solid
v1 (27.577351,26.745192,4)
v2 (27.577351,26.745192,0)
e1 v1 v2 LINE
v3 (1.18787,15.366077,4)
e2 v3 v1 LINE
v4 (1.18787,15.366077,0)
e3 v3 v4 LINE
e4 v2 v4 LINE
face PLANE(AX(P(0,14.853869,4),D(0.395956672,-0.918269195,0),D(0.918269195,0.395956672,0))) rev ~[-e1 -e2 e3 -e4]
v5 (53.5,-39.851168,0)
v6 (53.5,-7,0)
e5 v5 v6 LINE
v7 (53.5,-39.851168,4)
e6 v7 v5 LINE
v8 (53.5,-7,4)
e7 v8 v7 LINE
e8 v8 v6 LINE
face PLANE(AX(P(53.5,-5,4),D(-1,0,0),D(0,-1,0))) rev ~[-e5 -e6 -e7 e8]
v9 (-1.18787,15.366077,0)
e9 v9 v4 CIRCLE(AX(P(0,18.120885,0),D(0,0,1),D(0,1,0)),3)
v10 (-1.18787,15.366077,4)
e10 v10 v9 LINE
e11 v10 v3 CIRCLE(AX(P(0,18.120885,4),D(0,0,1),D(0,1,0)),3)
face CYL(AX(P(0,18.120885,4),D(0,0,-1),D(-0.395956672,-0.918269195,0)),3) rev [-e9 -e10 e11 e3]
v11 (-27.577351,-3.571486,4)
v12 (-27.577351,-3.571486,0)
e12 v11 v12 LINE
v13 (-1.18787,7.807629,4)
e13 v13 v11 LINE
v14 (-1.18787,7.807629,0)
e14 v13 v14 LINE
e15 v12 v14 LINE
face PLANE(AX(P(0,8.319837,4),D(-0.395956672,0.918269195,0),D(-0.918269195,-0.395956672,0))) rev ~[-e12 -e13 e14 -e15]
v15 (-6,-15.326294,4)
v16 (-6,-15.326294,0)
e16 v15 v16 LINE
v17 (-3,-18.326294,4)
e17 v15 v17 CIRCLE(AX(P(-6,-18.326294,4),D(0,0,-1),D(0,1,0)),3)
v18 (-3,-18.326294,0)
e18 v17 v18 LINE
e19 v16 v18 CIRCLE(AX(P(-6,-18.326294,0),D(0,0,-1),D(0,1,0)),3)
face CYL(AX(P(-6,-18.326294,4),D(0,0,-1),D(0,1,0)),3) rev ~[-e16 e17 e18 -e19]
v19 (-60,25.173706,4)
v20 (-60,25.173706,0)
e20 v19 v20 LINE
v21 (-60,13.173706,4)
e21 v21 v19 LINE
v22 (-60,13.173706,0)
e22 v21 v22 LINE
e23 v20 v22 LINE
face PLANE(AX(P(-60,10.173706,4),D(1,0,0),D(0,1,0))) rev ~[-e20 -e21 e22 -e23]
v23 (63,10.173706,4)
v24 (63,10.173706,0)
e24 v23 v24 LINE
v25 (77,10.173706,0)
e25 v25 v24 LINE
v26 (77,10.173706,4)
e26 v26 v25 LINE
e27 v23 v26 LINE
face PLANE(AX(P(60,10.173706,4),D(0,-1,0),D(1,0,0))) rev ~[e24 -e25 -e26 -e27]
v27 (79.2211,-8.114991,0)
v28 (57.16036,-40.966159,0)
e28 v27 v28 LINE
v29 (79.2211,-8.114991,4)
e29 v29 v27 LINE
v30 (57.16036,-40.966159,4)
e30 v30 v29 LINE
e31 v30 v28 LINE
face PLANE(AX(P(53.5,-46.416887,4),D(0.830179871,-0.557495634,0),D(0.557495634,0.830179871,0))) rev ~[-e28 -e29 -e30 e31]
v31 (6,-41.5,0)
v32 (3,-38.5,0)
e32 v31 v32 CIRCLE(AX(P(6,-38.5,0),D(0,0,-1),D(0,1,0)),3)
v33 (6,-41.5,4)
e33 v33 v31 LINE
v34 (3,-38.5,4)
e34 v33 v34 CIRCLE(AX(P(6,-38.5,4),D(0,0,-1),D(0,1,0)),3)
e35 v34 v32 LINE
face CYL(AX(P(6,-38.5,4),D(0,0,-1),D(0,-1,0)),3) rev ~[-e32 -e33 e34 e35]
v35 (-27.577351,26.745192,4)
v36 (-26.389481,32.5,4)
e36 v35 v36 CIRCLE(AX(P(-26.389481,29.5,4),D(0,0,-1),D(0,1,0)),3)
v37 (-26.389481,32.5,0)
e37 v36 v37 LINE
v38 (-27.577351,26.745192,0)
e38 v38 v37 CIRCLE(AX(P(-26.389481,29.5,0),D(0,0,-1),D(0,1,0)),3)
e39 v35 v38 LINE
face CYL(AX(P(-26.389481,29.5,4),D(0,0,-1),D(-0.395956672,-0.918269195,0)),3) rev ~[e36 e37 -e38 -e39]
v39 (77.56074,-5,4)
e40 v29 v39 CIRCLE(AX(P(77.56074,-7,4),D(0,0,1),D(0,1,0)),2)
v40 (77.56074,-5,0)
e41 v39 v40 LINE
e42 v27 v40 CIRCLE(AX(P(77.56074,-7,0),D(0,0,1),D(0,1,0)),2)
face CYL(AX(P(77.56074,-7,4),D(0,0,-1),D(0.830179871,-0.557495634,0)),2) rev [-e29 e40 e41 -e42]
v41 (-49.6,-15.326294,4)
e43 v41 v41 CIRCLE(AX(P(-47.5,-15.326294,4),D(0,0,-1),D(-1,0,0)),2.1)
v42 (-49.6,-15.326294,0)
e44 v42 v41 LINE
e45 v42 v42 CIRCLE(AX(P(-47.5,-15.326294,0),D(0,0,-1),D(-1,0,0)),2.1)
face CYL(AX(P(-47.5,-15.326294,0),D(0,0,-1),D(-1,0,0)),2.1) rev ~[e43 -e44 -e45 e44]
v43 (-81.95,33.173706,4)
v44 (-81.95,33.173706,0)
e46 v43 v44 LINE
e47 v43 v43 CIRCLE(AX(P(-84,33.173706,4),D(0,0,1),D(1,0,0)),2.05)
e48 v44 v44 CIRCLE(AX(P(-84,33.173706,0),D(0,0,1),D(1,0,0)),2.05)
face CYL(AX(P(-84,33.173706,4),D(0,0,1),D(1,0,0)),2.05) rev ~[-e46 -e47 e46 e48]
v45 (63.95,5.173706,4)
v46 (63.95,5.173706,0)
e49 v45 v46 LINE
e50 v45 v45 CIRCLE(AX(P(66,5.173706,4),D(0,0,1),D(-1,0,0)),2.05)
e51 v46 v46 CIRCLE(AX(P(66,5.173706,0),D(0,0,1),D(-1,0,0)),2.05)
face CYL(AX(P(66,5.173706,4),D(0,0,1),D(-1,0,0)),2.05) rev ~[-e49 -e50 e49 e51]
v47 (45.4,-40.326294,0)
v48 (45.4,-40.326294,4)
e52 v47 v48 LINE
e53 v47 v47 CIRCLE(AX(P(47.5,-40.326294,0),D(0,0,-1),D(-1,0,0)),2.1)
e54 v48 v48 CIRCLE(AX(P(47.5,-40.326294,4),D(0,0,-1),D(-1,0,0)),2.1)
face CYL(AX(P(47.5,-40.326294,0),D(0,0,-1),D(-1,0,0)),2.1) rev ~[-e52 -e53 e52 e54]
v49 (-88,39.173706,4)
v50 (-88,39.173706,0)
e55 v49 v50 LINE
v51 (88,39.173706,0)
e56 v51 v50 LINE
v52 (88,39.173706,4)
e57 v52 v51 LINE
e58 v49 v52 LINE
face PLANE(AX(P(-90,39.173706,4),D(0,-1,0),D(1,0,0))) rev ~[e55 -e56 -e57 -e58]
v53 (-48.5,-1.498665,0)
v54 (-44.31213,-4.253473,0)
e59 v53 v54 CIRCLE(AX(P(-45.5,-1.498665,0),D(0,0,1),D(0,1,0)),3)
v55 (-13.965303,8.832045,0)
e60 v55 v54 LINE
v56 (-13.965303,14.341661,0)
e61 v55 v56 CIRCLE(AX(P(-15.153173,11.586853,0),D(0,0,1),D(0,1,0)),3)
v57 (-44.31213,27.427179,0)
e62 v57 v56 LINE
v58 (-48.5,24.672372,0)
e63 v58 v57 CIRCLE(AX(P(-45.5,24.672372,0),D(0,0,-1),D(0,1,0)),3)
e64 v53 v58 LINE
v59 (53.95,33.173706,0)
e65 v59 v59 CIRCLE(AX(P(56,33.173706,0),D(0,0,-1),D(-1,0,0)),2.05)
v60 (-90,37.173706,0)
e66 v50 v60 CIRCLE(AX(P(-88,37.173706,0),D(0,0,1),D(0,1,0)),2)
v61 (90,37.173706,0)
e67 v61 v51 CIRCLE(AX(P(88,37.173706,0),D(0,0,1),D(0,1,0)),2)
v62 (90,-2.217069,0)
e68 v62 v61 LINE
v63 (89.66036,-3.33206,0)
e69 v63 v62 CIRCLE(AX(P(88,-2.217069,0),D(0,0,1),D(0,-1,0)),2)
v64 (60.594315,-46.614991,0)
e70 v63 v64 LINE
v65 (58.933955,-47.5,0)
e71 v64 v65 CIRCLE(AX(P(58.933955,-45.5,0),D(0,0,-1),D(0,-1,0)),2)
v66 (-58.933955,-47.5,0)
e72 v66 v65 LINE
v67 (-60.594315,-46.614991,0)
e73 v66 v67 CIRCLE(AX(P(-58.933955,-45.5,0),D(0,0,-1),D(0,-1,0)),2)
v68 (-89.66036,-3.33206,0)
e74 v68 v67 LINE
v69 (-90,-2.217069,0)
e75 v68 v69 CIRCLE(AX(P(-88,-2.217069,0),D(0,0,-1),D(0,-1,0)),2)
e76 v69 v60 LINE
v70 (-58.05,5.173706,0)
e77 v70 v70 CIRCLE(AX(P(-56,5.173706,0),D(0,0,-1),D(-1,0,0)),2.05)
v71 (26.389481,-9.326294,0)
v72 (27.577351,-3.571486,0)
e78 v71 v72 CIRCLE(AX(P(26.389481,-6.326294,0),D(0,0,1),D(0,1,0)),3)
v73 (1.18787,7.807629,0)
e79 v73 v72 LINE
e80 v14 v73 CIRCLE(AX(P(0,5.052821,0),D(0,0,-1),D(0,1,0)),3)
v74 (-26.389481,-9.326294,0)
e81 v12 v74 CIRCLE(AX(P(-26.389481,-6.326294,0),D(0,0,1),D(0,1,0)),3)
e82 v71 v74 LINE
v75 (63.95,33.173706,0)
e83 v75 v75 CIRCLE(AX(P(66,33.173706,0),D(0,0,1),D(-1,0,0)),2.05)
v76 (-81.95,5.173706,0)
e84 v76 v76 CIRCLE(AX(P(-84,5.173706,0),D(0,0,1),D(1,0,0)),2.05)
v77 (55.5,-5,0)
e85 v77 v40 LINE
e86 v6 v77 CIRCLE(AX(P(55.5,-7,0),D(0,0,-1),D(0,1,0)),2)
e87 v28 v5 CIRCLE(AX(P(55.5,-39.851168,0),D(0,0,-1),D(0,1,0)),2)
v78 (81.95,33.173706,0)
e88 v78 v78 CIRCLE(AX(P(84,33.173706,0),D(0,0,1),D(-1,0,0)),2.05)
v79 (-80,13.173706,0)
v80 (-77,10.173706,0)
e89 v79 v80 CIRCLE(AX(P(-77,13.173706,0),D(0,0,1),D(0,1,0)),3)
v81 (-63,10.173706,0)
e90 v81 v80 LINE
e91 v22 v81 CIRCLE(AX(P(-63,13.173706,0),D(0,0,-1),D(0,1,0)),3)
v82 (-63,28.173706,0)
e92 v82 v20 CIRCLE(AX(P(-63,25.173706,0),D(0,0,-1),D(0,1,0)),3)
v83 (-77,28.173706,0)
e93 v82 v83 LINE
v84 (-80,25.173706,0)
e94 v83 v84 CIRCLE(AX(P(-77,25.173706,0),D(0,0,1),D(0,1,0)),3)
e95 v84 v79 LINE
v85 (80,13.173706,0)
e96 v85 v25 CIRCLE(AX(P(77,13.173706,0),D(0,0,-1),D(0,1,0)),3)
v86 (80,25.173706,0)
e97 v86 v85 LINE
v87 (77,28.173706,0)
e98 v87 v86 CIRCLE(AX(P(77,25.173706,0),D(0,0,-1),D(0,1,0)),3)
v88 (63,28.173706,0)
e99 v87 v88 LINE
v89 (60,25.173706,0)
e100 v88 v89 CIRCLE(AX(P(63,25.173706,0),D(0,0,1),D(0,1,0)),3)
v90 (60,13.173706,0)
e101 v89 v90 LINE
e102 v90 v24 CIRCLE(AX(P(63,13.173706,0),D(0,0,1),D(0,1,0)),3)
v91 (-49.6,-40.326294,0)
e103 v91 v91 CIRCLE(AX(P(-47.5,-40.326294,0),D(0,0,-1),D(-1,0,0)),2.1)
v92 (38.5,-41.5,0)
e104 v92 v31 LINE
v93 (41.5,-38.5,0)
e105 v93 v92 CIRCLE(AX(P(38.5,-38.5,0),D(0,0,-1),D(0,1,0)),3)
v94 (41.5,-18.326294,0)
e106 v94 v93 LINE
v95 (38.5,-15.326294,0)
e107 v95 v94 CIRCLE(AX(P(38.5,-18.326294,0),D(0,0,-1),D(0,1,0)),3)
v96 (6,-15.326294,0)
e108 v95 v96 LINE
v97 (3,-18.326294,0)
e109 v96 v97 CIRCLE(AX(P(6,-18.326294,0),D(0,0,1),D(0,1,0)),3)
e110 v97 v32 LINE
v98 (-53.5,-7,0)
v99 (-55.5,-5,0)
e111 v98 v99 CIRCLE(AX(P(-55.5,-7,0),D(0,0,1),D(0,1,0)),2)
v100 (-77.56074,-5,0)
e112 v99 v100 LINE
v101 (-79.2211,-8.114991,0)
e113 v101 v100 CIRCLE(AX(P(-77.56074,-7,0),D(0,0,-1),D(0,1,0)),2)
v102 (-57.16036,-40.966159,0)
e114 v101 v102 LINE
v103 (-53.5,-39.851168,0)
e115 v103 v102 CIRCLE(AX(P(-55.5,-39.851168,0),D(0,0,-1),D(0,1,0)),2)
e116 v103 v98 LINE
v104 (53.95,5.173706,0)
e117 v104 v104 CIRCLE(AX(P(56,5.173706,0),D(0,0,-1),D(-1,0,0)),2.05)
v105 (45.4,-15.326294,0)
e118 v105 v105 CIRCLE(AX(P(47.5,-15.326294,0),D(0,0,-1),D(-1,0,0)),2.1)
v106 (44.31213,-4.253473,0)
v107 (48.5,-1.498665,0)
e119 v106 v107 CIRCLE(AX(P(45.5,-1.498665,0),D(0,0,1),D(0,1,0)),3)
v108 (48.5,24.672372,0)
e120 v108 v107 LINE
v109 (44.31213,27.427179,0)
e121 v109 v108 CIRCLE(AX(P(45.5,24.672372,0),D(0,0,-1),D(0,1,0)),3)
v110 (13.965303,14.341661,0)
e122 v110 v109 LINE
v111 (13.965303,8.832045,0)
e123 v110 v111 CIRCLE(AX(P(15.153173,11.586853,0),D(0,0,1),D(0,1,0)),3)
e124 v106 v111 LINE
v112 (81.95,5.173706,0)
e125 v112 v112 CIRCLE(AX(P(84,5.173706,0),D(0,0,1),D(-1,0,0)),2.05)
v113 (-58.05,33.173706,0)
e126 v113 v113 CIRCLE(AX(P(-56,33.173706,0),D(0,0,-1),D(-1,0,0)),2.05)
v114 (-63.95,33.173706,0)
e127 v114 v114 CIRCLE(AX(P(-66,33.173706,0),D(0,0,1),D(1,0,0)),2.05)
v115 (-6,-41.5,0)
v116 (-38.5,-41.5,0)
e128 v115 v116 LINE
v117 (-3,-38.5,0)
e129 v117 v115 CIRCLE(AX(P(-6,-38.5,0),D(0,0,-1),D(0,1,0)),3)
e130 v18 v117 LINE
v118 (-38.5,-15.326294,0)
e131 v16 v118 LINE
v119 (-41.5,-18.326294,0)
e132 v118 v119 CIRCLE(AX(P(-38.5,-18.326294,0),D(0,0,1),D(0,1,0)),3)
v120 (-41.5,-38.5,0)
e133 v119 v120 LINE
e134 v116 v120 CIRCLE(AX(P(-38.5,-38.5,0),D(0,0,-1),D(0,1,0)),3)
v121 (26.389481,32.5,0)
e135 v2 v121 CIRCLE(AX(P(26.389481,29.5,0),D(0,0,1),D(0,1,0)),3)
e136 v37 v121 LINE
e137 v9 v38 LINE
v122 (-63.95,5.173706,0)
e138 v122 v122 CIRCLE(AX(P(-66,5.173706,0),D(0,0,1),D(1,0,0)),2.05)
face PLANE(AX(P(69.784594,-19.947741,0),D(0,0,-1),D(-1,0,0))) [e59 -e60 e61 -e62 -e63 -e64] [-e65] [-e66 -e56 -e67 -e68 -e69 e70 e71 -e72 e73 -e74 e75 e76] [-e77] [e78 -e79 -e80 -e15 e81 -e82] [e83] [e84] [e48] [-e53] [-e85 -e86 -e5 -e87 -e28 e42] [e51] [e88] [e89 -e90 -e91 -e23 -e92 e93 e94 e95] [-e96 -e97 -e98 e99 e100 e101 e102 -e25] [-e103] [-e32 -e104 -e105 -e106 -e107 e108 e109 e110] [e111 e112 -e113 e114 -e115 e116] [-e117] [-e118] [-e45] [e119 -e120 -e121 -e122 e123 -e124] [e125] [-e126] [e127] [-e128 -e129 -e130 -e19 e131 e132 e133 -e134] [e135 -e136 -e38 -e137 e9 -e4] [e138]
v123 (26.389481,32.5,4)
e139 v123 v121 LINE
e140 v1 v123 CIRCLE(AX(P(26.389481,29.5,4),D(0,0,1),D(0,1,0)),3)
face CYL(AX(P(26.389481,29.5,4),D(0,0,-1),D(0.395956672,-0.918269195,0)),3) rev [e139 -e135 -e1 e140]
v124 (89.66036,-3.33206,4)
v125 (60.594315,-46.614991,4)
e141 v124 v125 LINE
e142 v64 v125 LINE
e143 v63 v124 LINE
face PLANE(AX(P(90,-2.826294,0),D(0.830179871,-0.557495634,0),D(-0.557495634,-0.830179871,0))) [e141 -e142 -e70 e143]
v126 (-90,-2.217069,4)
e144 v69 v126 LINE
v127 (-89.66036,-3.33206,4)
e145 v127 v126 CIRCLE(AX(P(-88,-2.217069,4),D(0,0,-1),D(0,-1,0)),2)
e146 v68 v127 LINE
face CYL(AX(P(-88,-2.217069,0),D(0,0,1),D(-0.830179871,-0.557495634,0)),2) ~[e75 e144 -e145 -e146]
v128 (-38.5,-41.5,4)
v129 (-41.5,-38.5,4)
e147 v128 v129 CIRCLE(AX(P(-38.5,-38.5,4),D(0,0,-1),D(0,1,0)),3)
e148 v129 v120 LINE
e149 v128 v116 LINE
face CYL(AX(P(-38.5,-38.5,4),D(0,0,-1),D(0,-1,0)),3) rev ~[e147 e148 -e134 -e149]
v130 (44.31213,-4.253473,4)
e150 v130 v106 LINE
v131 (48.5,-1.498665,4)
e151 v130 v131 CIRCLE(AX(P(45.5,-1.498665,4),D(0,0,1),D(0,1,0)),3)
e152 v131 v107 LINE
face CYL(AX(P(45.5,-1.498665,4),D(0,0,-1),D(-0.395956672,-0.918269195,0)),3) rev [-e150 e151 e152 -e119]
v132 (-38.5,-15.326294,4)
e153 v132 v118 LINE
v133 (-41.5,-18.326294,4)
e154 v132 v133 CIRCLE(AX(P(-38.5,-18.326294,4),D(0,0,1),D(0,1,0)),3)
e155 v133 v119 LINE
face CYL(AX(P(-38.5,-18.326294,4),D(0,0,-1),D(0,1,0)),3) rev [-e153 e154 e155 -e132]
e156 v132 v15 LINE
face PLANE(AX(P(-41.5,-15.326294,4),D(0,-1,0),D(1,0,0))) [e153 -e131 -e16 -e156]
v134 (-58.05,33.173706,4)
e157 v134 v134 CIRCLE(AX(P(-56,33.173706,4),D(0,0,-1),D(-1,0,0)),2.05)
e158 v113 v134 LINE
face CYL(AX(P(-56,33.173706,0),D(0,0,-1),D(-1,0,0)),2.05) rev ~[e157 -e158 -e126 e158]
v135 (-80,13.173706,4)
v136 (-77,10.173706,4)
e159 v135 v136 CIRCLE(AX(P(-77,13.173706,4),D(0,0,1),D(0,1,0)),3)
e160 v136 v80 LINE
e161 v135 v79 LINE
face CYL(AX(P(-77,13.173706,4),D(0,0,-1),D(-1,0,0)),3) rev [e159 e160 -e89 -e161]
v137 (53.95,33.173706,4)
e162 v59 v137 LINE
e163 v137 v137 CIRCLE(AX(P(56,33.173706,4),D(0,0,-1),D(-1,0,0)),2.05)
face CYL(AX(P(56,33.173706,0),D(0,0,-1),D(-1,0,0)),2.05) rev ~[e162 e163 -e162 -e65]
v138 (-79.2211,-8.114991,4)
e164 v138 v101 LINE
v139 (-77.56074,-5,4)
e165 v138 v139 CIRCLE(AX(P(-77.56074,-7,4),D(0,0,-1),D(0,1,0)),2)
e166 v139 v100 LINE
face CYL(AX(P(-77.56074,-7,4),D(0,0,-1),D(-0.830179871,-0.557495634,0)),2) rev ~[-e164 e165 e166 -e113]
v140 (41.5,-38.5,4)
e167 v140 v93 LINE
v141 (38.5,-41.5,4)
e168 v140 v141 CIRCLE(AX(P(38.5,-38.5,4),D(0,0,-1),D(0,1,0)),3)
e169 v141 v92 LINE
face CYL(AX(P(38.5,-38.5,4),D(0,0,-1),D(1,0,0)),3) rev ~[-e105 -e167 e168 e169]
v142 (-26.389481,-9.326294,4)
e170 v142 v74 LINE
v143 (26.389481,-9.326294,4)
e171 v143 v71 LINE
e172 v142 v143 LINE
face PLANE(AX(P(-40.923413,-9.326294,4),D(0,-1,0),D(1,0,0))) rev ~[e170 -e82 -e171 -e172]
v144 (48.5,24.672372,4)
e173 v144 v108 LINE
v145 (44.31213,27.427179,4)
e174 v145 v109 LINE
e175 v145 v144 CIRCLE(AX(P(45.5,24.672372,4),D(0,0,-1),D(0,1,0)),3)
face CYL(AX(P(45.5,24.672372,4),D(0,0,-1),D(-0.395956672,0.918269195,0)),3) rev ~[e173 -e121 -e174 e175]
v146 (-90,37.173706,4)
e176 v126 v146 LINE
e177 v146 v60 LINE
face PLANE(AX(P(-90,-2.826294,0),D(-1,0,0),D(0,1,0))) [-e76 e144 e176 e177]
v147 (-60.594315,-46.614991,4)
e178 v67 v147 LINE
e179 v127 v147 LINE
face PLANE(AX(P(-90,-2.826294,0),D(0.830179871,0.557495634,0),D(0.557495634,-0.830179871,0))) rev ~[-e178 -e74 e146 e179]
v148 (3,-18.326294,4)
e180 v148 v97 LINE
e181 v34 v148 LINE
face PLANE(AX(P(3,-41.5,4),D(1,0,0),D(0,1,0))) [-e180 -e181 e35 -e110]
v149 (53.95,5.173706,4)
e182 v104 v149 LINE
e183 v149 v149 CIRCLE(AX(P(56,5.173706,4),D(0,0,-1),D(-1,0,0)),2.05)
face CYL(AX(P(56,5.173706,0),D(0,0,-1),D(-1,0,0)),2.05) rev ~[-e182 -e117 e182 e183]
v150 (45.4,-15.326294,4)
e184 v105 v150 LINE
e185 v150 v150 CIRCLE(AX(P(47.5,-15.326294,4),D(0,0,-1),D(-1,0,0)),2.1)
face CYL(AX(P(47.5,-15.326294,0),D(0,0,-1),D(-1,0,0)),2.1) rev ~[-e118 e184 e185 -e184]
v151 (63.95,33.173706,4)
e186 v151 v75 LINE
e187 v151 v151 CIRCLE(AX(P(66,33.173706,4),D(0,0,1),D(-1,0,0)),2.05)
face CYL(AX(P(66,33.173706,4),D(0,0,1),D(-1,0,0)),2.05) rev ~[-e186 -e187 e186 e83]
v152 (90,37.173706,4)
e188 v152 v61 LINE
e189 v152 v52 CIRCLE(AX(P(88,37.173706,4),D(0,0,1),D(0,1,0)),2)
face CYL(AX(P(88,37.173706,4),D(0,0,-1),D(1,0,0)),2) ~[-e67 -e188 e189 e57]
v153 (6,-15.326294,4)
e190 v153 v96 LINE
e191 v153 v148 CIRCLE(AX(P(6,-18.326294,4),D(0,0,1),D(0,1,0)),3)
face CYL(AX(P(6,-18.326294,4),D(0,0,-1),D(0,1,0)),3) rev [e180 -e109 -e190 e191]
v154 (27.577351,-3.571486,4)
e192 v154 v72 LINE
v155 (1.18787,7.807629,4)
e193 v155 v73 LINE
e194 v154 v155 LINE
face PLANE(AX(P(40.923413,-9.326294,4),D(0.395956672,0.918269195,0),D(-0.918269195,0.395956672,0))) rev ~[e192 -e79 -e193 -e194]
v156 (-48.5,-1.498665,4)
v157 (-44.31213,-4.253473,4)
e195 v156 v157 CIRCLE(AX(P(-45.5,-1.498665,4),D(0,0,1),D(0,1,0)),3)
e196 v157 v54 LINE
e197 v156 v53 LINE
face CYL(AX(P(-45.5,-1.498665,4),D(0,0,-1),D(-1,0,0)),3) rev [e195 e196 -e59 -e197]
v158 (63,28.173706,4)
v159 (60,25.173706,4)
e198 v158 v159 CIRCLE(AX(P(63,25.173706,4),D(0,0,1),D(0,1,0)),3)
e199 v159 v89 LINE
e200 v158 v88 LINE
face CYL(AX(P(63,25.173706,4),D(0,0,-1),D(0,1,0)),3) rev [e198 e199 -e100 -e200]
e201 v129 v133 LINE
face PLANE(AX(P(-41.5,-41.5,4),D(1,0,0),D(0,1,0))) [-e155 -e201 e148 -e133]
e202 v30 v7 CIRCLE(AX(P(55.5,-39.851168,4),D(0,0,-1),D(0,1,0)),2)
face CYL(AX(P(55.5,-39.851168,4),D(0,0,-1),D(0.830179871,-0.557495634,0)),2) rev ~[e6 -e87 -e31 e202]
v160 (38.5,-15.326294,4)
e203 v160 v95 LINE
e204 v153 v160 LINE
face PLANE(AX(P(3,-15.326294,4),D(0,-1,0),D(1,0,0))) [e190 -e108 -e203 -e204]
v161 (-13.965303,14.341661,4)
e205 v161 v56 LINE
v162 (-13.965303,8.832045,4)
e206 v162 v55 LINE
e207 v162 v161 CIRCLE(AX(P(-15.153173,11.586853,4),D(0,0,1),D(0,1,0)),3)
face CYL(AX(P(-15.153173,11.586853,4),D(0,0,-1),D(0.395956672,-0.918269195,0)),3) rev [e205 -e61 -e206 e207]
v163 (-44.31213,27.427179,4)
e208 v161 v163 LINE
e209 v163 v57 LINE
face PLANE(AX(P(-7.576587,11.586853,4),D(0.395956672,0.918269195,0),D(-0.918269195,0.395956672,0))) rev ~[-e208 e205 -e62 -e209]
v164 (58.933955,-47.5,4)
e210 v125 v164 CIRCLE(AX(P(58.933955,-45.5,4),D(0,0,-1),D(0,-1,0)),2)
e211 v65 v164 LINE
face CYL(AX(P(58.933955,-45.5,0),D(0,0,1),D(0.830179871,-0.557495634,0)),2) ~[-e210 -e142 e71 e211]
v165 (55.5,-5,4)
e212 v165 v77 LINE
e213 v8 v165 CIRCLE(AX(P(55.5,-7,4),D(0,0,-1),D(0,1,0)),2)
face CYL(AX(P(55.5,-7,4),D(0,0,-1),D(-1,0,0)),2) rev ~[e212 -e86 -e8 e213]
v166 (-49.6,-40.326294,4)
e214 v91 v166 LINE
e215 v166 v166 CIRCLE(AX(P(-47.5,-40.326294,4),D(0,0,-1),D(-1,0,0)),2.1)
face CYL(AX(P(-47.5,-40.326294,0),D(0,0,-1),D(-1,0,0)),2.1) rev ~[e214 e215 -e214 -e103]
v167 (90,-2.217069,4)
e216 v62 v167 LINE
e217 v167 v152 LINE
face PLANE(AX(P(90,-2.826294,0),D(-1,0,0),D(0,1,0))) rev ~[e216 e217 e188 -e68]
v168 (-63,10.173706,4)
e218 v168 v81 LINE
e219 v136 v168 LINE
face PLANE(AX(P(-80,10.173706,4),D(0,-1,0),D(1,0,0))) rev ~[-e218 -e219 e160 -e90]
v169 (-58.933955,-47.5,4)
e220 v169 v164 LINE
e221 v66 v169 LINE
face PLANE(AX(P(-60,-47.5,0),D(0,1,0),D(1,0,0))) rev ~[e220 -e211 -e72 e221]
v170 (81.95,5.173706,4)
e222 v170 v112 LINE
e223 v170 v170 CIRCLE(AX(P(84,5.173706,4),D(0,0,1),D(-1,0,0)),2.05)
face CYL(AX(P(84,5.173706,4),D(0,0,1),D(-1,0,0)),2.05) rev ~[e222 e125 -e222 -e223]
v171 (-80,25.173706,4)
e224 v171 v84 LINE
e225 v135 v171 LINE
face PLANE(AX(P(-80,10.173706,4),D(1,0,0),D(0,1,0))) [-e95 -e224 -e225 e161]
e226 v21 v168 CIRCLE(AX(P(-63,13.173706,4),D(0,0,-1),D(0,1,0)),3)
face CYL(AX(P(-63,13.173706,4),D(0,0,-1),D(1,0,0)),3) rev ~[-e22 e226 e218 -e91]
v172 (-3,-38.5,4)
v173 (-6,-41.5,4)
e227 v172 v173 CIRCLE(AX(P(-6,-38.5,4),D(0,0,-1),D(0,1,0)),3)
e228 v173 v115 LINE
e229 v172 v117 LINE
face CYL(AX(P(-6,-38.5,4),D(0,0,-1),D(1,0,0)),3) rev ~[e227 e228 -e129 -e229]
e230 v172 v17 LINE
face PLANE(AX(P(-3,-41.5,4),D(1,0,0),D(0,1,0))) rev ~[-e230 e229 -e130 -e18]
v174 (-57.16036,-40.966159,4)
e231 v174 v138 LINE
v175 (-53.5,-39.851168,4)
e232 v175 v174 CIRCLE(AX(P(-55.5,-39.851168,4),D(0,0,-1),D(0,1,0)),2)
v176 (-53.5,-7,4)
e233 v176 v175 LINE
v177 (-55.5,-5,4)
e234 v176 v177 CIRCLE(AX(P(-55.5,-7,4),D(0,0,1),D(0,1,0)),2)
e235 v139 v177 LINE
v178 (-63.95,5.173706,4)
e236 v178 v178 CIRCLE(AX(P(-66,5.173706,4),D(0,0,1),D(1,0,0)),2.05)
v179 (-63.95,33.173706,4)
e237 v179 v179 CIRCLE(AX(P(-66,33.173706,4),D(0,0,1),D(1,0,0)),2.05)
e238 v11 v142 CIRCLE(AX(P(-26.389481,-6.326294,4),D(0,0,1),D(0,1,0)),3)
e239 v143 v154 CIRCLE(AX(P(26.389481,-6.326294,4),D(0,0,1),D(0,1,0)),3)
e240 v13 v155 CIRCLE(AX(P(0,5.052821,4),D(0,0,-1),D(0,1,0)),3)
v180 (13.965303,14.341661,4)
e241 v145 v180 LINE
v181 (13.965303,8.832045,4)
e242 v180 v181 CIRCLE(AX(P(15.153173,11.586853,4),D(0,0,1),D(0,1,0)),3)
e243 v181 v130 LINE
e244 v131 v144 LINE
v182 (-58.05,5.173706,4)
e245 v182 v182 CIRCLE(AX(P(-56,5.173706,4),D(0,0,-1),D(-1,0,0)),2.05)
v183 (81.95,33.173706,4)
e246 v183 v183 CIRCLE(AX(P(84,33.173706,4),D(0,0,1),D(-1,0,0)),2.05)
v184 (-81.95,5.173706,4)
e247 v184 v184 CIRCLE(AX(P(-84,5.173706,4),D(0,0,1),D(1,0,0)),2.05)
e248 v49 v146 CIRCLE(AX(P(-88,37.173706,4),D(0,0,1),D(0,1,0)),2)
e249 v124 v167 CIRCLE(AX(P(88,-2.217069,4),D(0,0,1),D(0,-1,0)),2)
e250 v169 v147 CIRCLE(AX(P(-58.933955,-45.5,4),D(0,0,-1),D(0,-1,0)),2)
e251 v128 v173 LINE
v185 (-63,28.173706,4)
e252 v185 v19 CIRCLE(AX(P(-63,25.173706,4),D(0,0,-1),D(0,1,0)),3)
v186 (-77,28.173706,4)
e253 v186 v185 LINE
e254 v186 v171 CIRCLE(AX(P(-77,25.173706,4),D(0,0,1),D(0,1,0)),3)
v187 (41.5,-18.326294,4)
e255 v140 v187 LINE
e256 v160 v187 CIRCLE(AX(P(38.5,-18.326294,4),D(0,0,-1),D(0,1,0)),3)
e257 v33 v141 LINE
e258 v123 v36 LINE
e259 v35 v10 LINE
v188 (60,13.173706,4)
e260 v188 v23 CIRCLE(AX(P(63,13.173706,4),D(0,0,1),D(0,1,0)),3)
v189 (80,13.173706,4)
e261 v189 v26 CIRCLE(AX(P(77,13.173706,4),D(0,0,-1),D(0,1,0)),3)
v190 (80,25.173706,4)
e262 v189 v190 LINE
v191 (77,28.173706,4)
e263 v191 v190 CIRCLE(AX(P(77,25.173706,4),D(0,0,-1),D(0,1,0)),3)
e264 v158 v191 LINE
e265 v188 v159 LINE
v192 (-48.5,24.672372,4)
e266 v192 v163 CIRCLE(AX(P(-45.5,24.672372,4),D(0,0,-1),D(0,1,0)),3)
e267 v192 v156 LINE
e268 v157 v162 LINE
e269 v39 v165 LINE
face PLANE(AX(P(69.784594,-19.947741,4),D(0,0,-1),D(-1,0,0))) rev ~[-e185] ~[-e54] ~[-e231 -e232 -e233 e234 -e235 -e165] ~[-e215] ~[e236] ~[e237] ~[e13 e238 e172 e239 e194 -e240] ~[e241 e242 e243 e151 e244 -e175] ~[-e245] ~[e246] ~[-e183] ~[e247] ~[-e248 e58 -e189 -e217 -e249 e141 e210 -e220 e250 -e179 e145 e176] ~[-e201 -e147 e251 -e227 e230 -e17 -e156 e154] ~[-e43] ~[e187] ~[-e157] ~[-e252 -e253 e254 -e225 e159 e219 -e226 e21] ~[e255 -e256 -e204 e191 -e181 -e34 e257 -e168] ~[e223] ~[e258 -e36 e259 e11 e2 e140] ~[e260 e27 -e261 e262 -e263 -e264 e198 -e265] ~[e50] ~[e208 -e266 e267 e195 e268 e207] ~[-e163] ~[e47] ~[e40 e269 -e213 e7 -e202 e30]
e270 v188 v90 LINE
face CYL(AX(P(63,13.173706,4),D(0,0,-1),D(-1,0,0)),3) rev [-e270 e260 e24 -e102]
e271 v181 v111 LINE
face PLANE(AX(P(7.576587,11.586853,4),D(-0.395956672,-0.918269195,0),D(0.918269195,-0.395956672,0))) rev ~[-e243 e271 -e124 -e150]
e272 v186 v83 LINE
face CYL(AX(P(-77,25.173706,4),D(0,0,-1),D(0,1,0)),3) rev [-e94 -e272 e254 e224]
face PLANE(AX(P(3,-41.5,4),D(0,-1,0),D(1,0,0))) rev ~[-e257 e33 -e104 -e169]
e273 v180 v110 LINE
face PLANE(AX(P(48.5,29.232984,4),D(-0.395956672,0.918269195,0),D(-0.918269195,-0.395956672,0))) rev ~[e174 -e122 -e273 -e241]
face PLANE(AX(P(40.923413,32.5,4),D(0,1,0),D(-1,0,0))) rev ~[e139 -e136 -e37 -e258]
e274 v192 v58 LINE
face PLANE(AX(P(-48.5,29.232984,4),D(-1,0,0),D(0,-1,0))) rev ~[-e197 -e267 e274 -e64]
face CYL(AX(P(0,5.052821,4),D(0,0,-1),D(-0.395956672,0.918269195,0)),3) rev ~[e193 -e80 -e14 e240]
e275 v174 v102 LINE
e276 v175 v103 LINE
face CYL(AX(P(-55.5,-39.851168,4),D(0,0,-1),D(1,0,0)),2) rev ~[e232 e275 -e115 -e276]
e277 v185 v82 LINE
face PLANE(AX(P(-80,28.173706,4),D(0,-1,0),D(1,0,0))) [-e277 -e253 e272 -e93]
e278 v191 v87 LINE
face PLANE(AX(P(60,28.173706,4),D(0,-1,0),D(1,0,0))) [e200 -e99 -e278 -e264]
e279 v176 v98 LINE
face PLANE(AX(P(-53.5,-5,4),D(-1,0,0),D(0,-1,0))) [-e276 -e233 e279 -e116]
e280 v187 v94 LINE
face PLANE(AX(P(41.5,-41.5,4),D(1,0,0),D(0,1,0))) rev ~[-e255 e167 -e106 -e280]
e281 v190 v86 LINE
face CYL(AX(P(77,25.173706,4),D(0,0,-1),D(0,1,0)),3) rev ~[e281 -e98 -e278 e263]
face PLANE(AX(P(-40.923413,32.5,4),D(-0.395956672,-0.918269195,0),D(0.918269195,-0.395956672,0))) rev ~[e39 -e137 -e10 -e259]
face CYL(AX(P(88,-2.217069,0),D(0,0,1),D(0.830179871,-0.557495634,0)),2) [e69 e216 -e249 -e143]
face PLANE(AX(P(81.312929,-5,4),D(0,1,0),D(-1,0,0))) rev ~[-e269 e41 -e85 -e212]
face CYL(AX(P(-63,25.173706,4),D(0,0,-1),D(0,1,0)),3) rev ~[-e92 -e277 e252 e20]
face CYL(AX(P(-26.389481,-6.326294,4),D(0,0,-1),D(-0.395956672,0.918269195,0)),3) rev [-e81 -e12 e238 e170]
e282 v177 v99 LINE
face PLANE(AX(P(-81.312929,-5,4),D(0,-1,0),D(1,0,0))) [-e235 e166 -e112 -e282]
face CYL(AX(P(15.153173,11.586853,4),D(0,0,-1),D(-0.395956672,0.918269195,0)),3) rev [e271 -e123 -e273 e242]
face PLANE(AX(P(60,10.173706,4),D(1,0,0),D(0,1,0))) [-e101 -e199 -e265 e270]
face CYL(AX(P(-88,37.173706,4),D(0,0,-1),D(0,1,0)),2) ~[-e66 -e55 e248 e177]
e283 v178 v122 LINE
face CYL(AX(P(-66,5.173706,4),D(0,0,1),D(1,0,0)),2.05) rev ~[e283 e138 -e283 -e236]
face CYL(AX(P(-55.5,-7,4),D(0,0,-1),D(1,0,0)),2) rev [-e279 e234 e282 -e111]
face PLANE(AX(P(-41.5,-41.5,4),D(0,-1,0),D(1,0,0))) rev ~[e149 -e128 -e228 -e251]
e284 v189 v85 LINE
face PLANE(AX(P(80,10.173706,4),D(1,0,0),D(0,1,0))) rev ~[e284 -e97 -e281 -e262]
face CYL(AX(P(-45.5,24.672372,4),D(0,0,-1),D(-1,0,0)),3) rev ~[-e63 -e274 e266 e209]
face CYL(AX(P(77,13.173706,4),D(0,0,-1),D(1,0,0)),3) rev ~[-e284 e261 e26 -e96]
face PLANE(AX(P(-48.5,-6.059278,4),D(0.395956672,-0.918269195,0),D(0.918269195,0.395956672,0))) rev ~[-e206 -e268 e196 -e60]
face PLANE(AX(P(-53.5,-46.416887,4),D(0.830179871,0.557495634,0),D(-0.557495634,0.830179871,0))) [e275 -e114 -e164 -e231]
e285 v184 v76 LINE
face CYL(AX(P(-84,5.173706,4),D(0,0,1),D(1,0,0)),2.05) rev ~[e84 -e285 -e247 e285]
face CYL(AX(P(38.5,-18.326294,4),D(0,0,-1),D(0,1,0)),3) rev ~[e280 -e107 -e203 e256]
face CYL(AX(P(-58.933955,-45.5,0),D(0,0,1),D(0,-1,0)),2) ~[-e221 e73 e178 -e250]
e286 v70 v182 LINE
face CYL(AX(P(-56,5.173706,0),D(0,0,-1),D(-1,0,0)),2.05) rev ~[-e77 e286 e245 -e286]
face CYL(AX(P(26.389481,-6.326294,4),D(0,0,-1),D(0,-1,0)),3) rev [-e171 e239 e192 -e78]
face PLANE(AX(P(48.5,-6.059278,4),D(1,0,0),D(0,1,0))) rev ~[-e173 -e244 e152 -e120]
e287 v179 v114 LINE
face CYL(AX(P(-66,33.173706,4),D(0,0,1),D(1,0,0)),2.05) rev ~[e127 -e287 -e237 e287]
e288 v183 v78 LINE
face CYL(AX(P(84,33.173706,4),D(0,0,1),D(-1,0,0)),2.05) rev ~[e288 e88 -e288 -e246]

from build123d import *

# Parameters (mm, degrees)
SKETCH_1_W          = 120
SKETCH_1_H          = 95
EXTRUDE_1_DEPTH     = 4
SKETCH_2_R          = 2.1
CUT_EXTRUDE_1_DEPTH = 10
SKETCH_3_R          = 2.05
CUT_EXTRUDE_2_DEPTH = 10
SKETCH_4_W          = 180
SKETCH_4_H          = 50.32629385
SKETCH_4_R          = 2.05
EXTRUDE_2_DEPTH     = 4
EXTRUDE_3_DEPTH     = 4
CUT_EXTRUDE_3_DEPTH = 10
FILLET_1_R          = 2
SKETCH_7_R          = 2.05
CUT_EXTRUDE_4_DEPTH = 10
FILLET_2_R          = 2
SKETCH_8_W          = 20
SKETCH_8_H          = 18
CUT_EXTRUDE_5_DEPTH = 10
SKETCH_9_W          = 38.5
SKETCH_9_H          = 26.173706147
CUT_EXTRUDE_6_DEPTH = 10
FILLET_3_R          = 3
SKETCH_10_R         = 2.05
CUT_EXTRUDE_7_DEPTH = 10
SKETCH_11_W         = 180
SKETCH_11_H         = 15
CUT_EXTRUDE_8_DEPTH = 10
FILLET_4_R          = 2


with BuildPart() as part:
    # 草图1 → 凸台-拉伸1 (new body)
    with BuildSketch(Plane.XY):
        Rectangle(SKETCH_1_W, SKETCH_1_H)
    extrude(amount=EXTRUDE_1_DEPTH)

    # 草图2 → 切除-拉伸1 (cut)
    with BuildSketch(Plane(origin=(0, 0, 0), x_dir=(-1, 0, 0), z_dir=(0, 0, -1))):
        with Locations((47.5, -40.326293853)):
            Circle(SKETCH_2_R)
        with Locations((47.5, -15.326293853)):
            Circle(SKETCH_2_R)
        with Locations((-47.5, -15.326293853)):
            Circle(SKETCH_2_R)
        with Locations((-47.5, -40.326293853)):
            Circle(SKETCH_2_R)
    extrude(amount=-CUT_EXTRUDE_1_DEPTH, mode=Mode.SUBTRACT)

    # 草图3 → 切除-拉伸2 (cut)
    with BuildSketch(Plane(origin=(0, 0, 0), x_dir=(-1, 0, 0), z_dir=(0, 0, -1))):
        with Locations((56, 33.17370615)):
            Circle(SKETCH_3_R)
        with Locations((-56, 33.17370615)):
            Circle(SKETCH_3_R)
        with Locations((-56, 5.17370615)):
            Circle(SKETCH_3_R)
        with Locations((56, 5.17370615)):
            Circle(SKETCH_3_R)
    extrude(amount=-CUT_EXTRUDE_2_DEPTH, mode=Mode.SUBTRACT)

    # 草图4 → 凸台-拉伸2 (add)
    with BuildSketch(Plane(origin=(0, 0, 0), x_dir=(-1, 0, 0), z_dir=(0, 0, -1))):
        with Locations((0, 22.336853075)):
            Rectangle(SKETCH_4_W, SKETCH_4_H)
        with Locations((56, 5.17370615)):
            Circle(SKETCH_4_R, mode=Mode.SUBTRACT)
        with Locations((56, 33.17370615)):
            Circle(SKETCH_4_R, mode=Mode.SUBTRACT)
        with Locations((-56, 5.17370615)):
            Circle(SKETCH_4_R, mode=Mode.SUBTRACT)
        with Locations((-56, 33.17370615)):
            Circle(SKETCH_4_R, mode=Mode.SUBTRACT)
    extrude(amount=-EXTRUDE_2_DEPTH)

    # 草图5 → 凸台-拉伸3 (add)
    with BuildSketch(Plane(origin=(0, 0, 0), x_dir=(-1, 0, 0), z_dir=(0, 0, -1))):
        Polygon((-90, -2.82629385), (-60, -47.5), (-60, -2.82629385), align=None)
        Polygon((60, -47.5), (60, -2.82629385), (90, -2.82629385), align=None)
    extrude(amount=-EXTRUDE_3_DEPTH)

    # 草图6 → 切除-拉伸3 (cut)
    with BuildSketch(Plane.XY.offset(4)):
        Polygon((-81.312928752, -5), (-53.5, -5), (-53.5, -46.416886874), align=None)
        Polygon((53.5, -46.416886874), (81.312928752, -5), (53.5, -5), align=None)
    extrude(amount=-CUT_EXTRUDE_3_DEPTH, mode=Mode.SUBTRACT)

    # 圆角1
    fillet_1_edges = [part.edges().sort_by_distance(p)[0] for p in [
        (-53.5, -46.416886874, 2),
        (-81.312928752, -5, 2),
        (-53.5, -5, 2),
        (53.5, -46.416886874, 2),
        (53.5, -5, 2),
        (81.312928752, -5, 2),
    ]]
    fillet(fillet_1_edges, radius=FILLET_1_R)

    # 草图7 → 切除-拉伸4 (cut)
    with BuildSketch(Plane.XY.offset(4)):
        with Locations((-84, 33.17370615)):
            Circle(SKETCH_7_R)
        with Locations((-84, 5.17370615)):
            Circle(SKETCH_7_R)
        with Locations(Location((84, 33.17370615, 0), (0, 0, 180))):
            Circle(SKETCH_7_R)
        with Locations(Location((84, 5.17370615, 0), (0, 0, 180))):
            Circle(SKETCH_7_R)
    extrude(amount=-CUT_EXTRUDE_4_DEPTH, mode=Mode.SUBTRACT)

    # 圆角2
    fillet_2_edges = [part.edges().sort_by_distance(p)[0] for p in [
        (-90, -2.82629385, 2),
        (90, 47.5, 2),
        (-90, 47.5, 2),
        (90, -2.82629385, 2),
        (60, -47.5, 2),
        (-60, -47.5, 2),
    ]]
    fillet(fillet_2_edges, radius=FILLET_2_R)

    # 草图8 → 切除-拉伸5 (cut)
    with BuildSketch(Plane.XY.offset(4)):
        with Locations((-70, 19.17370615)):
            Rectangle(SKETCH_8_W, SKETCH_8_H)
        Polygon((-48.5, 29.232984165), (-48.5, -6.059278018), (-7.576586563, 11.586853073), align=None)
        Polygon((-40.923413437, 32.5), (0, 14.853868908), (40.923413437, 32.5), align=None)
        Polygon((48.5, 29.232984165), (7.576586563, 11.586853073), (48.5, -6.059278018), align=None)
        Polygon((0, 8.319837238), (-40.923413437, -9.326293853), (40.923413437, -9.326293853), align=None)
        with Locations((70, 19.17370615)):
            Rectangle(SKETCH_8_W, SKETCH_8_H)
    extrude(amount=-CUT_EXTRUDE_5_DEPTH, mode=Mode.SUBTRACT)

    # 草图9 → 切除-拉伸6 (cut)
    with BuildSketch(Plane.XY.offset(4)):
        with Locations((-22.25, -28.413146927)):
            Rectangle(SKETCH_9_W, SKETCH_9_H)
        with Locations((22.25, -28.413146927)):
            Rectangle(SKETCH_9_W, SKETCH_9_H)
    extrude(amount=-CUT_EXTRUDE_6_DEPTH, mode=Mode.SUBTRACT)

    # 圆角3
    fillet_3_edges = [part.edges().sort_by_distance(p)[0] for p in [
        (-60, 10.17370615, 2),
        (-80, 10.17370615, 2),
        (-80, 28.17370615, 2),
        (-60, 28.17370615, 2),
        (7.576586563, 11.586853073, 2),
        (48.5, 29.232984165, 2),
        (48.5, -6.059278018, 2),
        (-40.923413437, -9.326293853, 2),
        (0, 8.319837238, 2),
        (40.923413437, -9.326293853, 2),
        (-48.5, -6.059278018, 2),
        (-48.5, 29.232984165, 2),
        (-7.576586563, 11.586853073, 2),
        (0, 14.853868908, 2),
        (-40.923413437, 32.5, 2),
        (40.923413437, 32.5, 2),
        (80, 10.17370615, 2),
        (60, 10.17370615, 2),
        (60, 28.17370615, 2),
        (80, 28.17370615, 2),
        (-3, -15.326293853, 2),
        (-3, -41.5, 2),
        (-41.5, -41.5, 2),
        (-41.5, -15.326293853, 2),
        (3, -15.326293853, 2),
        (41.5, -15.326293853, 2),
        (41.5, -41.5, 2),
        (3, -41.5, 2),
    ]]
    fillet(fillet_3_edges, radius=FILLET_3_R)

    # 草图10 → 切除-拉伸7 (cut)
    with BuildSketch(Plane.XY.offset(4)):
        with Locations((-66, 33.17370615)):
            Circle(SKETCH_10_R)
        with Locations((-66, 5.17370615)):
            Circle(SKETCH_10_R)
        with Locations(Location((66, 5.17370615, 0), (0, 0, 180))):
            Circle(SKETCH_10_R)
        with Locations(Location((66, 33.17370615, 0), (0, 0, 180))):
            Circle(SKETCH_10_R)
    extrude(amount=-CUT_EXTRUDE_7_DEPTH, mode=Mode.SUBTRACT)

    # 草图11 → 切除-拉伸8 (cut)
    with BuildSketch(Plane.XY.offset(4)):
        with Locations((0, 46.67370615)):
            Rectangle(SKETCH_11_W, SKETCH_11_H)
    extrude(amount=-CUT_EXTRUDE_8_DEPTH, mode=Mode.SUBTRACT)

    # 圆角4
    fillet_4_edges = [part.edges().sort_by_distance(p)[0] for p in [
        (-90, 39.17370615, 2),
        (90, 39.17370615, 2),
    ]]
    fillet(fillet_4_edges, radius=FILLET_4_R)


solid = part.part
